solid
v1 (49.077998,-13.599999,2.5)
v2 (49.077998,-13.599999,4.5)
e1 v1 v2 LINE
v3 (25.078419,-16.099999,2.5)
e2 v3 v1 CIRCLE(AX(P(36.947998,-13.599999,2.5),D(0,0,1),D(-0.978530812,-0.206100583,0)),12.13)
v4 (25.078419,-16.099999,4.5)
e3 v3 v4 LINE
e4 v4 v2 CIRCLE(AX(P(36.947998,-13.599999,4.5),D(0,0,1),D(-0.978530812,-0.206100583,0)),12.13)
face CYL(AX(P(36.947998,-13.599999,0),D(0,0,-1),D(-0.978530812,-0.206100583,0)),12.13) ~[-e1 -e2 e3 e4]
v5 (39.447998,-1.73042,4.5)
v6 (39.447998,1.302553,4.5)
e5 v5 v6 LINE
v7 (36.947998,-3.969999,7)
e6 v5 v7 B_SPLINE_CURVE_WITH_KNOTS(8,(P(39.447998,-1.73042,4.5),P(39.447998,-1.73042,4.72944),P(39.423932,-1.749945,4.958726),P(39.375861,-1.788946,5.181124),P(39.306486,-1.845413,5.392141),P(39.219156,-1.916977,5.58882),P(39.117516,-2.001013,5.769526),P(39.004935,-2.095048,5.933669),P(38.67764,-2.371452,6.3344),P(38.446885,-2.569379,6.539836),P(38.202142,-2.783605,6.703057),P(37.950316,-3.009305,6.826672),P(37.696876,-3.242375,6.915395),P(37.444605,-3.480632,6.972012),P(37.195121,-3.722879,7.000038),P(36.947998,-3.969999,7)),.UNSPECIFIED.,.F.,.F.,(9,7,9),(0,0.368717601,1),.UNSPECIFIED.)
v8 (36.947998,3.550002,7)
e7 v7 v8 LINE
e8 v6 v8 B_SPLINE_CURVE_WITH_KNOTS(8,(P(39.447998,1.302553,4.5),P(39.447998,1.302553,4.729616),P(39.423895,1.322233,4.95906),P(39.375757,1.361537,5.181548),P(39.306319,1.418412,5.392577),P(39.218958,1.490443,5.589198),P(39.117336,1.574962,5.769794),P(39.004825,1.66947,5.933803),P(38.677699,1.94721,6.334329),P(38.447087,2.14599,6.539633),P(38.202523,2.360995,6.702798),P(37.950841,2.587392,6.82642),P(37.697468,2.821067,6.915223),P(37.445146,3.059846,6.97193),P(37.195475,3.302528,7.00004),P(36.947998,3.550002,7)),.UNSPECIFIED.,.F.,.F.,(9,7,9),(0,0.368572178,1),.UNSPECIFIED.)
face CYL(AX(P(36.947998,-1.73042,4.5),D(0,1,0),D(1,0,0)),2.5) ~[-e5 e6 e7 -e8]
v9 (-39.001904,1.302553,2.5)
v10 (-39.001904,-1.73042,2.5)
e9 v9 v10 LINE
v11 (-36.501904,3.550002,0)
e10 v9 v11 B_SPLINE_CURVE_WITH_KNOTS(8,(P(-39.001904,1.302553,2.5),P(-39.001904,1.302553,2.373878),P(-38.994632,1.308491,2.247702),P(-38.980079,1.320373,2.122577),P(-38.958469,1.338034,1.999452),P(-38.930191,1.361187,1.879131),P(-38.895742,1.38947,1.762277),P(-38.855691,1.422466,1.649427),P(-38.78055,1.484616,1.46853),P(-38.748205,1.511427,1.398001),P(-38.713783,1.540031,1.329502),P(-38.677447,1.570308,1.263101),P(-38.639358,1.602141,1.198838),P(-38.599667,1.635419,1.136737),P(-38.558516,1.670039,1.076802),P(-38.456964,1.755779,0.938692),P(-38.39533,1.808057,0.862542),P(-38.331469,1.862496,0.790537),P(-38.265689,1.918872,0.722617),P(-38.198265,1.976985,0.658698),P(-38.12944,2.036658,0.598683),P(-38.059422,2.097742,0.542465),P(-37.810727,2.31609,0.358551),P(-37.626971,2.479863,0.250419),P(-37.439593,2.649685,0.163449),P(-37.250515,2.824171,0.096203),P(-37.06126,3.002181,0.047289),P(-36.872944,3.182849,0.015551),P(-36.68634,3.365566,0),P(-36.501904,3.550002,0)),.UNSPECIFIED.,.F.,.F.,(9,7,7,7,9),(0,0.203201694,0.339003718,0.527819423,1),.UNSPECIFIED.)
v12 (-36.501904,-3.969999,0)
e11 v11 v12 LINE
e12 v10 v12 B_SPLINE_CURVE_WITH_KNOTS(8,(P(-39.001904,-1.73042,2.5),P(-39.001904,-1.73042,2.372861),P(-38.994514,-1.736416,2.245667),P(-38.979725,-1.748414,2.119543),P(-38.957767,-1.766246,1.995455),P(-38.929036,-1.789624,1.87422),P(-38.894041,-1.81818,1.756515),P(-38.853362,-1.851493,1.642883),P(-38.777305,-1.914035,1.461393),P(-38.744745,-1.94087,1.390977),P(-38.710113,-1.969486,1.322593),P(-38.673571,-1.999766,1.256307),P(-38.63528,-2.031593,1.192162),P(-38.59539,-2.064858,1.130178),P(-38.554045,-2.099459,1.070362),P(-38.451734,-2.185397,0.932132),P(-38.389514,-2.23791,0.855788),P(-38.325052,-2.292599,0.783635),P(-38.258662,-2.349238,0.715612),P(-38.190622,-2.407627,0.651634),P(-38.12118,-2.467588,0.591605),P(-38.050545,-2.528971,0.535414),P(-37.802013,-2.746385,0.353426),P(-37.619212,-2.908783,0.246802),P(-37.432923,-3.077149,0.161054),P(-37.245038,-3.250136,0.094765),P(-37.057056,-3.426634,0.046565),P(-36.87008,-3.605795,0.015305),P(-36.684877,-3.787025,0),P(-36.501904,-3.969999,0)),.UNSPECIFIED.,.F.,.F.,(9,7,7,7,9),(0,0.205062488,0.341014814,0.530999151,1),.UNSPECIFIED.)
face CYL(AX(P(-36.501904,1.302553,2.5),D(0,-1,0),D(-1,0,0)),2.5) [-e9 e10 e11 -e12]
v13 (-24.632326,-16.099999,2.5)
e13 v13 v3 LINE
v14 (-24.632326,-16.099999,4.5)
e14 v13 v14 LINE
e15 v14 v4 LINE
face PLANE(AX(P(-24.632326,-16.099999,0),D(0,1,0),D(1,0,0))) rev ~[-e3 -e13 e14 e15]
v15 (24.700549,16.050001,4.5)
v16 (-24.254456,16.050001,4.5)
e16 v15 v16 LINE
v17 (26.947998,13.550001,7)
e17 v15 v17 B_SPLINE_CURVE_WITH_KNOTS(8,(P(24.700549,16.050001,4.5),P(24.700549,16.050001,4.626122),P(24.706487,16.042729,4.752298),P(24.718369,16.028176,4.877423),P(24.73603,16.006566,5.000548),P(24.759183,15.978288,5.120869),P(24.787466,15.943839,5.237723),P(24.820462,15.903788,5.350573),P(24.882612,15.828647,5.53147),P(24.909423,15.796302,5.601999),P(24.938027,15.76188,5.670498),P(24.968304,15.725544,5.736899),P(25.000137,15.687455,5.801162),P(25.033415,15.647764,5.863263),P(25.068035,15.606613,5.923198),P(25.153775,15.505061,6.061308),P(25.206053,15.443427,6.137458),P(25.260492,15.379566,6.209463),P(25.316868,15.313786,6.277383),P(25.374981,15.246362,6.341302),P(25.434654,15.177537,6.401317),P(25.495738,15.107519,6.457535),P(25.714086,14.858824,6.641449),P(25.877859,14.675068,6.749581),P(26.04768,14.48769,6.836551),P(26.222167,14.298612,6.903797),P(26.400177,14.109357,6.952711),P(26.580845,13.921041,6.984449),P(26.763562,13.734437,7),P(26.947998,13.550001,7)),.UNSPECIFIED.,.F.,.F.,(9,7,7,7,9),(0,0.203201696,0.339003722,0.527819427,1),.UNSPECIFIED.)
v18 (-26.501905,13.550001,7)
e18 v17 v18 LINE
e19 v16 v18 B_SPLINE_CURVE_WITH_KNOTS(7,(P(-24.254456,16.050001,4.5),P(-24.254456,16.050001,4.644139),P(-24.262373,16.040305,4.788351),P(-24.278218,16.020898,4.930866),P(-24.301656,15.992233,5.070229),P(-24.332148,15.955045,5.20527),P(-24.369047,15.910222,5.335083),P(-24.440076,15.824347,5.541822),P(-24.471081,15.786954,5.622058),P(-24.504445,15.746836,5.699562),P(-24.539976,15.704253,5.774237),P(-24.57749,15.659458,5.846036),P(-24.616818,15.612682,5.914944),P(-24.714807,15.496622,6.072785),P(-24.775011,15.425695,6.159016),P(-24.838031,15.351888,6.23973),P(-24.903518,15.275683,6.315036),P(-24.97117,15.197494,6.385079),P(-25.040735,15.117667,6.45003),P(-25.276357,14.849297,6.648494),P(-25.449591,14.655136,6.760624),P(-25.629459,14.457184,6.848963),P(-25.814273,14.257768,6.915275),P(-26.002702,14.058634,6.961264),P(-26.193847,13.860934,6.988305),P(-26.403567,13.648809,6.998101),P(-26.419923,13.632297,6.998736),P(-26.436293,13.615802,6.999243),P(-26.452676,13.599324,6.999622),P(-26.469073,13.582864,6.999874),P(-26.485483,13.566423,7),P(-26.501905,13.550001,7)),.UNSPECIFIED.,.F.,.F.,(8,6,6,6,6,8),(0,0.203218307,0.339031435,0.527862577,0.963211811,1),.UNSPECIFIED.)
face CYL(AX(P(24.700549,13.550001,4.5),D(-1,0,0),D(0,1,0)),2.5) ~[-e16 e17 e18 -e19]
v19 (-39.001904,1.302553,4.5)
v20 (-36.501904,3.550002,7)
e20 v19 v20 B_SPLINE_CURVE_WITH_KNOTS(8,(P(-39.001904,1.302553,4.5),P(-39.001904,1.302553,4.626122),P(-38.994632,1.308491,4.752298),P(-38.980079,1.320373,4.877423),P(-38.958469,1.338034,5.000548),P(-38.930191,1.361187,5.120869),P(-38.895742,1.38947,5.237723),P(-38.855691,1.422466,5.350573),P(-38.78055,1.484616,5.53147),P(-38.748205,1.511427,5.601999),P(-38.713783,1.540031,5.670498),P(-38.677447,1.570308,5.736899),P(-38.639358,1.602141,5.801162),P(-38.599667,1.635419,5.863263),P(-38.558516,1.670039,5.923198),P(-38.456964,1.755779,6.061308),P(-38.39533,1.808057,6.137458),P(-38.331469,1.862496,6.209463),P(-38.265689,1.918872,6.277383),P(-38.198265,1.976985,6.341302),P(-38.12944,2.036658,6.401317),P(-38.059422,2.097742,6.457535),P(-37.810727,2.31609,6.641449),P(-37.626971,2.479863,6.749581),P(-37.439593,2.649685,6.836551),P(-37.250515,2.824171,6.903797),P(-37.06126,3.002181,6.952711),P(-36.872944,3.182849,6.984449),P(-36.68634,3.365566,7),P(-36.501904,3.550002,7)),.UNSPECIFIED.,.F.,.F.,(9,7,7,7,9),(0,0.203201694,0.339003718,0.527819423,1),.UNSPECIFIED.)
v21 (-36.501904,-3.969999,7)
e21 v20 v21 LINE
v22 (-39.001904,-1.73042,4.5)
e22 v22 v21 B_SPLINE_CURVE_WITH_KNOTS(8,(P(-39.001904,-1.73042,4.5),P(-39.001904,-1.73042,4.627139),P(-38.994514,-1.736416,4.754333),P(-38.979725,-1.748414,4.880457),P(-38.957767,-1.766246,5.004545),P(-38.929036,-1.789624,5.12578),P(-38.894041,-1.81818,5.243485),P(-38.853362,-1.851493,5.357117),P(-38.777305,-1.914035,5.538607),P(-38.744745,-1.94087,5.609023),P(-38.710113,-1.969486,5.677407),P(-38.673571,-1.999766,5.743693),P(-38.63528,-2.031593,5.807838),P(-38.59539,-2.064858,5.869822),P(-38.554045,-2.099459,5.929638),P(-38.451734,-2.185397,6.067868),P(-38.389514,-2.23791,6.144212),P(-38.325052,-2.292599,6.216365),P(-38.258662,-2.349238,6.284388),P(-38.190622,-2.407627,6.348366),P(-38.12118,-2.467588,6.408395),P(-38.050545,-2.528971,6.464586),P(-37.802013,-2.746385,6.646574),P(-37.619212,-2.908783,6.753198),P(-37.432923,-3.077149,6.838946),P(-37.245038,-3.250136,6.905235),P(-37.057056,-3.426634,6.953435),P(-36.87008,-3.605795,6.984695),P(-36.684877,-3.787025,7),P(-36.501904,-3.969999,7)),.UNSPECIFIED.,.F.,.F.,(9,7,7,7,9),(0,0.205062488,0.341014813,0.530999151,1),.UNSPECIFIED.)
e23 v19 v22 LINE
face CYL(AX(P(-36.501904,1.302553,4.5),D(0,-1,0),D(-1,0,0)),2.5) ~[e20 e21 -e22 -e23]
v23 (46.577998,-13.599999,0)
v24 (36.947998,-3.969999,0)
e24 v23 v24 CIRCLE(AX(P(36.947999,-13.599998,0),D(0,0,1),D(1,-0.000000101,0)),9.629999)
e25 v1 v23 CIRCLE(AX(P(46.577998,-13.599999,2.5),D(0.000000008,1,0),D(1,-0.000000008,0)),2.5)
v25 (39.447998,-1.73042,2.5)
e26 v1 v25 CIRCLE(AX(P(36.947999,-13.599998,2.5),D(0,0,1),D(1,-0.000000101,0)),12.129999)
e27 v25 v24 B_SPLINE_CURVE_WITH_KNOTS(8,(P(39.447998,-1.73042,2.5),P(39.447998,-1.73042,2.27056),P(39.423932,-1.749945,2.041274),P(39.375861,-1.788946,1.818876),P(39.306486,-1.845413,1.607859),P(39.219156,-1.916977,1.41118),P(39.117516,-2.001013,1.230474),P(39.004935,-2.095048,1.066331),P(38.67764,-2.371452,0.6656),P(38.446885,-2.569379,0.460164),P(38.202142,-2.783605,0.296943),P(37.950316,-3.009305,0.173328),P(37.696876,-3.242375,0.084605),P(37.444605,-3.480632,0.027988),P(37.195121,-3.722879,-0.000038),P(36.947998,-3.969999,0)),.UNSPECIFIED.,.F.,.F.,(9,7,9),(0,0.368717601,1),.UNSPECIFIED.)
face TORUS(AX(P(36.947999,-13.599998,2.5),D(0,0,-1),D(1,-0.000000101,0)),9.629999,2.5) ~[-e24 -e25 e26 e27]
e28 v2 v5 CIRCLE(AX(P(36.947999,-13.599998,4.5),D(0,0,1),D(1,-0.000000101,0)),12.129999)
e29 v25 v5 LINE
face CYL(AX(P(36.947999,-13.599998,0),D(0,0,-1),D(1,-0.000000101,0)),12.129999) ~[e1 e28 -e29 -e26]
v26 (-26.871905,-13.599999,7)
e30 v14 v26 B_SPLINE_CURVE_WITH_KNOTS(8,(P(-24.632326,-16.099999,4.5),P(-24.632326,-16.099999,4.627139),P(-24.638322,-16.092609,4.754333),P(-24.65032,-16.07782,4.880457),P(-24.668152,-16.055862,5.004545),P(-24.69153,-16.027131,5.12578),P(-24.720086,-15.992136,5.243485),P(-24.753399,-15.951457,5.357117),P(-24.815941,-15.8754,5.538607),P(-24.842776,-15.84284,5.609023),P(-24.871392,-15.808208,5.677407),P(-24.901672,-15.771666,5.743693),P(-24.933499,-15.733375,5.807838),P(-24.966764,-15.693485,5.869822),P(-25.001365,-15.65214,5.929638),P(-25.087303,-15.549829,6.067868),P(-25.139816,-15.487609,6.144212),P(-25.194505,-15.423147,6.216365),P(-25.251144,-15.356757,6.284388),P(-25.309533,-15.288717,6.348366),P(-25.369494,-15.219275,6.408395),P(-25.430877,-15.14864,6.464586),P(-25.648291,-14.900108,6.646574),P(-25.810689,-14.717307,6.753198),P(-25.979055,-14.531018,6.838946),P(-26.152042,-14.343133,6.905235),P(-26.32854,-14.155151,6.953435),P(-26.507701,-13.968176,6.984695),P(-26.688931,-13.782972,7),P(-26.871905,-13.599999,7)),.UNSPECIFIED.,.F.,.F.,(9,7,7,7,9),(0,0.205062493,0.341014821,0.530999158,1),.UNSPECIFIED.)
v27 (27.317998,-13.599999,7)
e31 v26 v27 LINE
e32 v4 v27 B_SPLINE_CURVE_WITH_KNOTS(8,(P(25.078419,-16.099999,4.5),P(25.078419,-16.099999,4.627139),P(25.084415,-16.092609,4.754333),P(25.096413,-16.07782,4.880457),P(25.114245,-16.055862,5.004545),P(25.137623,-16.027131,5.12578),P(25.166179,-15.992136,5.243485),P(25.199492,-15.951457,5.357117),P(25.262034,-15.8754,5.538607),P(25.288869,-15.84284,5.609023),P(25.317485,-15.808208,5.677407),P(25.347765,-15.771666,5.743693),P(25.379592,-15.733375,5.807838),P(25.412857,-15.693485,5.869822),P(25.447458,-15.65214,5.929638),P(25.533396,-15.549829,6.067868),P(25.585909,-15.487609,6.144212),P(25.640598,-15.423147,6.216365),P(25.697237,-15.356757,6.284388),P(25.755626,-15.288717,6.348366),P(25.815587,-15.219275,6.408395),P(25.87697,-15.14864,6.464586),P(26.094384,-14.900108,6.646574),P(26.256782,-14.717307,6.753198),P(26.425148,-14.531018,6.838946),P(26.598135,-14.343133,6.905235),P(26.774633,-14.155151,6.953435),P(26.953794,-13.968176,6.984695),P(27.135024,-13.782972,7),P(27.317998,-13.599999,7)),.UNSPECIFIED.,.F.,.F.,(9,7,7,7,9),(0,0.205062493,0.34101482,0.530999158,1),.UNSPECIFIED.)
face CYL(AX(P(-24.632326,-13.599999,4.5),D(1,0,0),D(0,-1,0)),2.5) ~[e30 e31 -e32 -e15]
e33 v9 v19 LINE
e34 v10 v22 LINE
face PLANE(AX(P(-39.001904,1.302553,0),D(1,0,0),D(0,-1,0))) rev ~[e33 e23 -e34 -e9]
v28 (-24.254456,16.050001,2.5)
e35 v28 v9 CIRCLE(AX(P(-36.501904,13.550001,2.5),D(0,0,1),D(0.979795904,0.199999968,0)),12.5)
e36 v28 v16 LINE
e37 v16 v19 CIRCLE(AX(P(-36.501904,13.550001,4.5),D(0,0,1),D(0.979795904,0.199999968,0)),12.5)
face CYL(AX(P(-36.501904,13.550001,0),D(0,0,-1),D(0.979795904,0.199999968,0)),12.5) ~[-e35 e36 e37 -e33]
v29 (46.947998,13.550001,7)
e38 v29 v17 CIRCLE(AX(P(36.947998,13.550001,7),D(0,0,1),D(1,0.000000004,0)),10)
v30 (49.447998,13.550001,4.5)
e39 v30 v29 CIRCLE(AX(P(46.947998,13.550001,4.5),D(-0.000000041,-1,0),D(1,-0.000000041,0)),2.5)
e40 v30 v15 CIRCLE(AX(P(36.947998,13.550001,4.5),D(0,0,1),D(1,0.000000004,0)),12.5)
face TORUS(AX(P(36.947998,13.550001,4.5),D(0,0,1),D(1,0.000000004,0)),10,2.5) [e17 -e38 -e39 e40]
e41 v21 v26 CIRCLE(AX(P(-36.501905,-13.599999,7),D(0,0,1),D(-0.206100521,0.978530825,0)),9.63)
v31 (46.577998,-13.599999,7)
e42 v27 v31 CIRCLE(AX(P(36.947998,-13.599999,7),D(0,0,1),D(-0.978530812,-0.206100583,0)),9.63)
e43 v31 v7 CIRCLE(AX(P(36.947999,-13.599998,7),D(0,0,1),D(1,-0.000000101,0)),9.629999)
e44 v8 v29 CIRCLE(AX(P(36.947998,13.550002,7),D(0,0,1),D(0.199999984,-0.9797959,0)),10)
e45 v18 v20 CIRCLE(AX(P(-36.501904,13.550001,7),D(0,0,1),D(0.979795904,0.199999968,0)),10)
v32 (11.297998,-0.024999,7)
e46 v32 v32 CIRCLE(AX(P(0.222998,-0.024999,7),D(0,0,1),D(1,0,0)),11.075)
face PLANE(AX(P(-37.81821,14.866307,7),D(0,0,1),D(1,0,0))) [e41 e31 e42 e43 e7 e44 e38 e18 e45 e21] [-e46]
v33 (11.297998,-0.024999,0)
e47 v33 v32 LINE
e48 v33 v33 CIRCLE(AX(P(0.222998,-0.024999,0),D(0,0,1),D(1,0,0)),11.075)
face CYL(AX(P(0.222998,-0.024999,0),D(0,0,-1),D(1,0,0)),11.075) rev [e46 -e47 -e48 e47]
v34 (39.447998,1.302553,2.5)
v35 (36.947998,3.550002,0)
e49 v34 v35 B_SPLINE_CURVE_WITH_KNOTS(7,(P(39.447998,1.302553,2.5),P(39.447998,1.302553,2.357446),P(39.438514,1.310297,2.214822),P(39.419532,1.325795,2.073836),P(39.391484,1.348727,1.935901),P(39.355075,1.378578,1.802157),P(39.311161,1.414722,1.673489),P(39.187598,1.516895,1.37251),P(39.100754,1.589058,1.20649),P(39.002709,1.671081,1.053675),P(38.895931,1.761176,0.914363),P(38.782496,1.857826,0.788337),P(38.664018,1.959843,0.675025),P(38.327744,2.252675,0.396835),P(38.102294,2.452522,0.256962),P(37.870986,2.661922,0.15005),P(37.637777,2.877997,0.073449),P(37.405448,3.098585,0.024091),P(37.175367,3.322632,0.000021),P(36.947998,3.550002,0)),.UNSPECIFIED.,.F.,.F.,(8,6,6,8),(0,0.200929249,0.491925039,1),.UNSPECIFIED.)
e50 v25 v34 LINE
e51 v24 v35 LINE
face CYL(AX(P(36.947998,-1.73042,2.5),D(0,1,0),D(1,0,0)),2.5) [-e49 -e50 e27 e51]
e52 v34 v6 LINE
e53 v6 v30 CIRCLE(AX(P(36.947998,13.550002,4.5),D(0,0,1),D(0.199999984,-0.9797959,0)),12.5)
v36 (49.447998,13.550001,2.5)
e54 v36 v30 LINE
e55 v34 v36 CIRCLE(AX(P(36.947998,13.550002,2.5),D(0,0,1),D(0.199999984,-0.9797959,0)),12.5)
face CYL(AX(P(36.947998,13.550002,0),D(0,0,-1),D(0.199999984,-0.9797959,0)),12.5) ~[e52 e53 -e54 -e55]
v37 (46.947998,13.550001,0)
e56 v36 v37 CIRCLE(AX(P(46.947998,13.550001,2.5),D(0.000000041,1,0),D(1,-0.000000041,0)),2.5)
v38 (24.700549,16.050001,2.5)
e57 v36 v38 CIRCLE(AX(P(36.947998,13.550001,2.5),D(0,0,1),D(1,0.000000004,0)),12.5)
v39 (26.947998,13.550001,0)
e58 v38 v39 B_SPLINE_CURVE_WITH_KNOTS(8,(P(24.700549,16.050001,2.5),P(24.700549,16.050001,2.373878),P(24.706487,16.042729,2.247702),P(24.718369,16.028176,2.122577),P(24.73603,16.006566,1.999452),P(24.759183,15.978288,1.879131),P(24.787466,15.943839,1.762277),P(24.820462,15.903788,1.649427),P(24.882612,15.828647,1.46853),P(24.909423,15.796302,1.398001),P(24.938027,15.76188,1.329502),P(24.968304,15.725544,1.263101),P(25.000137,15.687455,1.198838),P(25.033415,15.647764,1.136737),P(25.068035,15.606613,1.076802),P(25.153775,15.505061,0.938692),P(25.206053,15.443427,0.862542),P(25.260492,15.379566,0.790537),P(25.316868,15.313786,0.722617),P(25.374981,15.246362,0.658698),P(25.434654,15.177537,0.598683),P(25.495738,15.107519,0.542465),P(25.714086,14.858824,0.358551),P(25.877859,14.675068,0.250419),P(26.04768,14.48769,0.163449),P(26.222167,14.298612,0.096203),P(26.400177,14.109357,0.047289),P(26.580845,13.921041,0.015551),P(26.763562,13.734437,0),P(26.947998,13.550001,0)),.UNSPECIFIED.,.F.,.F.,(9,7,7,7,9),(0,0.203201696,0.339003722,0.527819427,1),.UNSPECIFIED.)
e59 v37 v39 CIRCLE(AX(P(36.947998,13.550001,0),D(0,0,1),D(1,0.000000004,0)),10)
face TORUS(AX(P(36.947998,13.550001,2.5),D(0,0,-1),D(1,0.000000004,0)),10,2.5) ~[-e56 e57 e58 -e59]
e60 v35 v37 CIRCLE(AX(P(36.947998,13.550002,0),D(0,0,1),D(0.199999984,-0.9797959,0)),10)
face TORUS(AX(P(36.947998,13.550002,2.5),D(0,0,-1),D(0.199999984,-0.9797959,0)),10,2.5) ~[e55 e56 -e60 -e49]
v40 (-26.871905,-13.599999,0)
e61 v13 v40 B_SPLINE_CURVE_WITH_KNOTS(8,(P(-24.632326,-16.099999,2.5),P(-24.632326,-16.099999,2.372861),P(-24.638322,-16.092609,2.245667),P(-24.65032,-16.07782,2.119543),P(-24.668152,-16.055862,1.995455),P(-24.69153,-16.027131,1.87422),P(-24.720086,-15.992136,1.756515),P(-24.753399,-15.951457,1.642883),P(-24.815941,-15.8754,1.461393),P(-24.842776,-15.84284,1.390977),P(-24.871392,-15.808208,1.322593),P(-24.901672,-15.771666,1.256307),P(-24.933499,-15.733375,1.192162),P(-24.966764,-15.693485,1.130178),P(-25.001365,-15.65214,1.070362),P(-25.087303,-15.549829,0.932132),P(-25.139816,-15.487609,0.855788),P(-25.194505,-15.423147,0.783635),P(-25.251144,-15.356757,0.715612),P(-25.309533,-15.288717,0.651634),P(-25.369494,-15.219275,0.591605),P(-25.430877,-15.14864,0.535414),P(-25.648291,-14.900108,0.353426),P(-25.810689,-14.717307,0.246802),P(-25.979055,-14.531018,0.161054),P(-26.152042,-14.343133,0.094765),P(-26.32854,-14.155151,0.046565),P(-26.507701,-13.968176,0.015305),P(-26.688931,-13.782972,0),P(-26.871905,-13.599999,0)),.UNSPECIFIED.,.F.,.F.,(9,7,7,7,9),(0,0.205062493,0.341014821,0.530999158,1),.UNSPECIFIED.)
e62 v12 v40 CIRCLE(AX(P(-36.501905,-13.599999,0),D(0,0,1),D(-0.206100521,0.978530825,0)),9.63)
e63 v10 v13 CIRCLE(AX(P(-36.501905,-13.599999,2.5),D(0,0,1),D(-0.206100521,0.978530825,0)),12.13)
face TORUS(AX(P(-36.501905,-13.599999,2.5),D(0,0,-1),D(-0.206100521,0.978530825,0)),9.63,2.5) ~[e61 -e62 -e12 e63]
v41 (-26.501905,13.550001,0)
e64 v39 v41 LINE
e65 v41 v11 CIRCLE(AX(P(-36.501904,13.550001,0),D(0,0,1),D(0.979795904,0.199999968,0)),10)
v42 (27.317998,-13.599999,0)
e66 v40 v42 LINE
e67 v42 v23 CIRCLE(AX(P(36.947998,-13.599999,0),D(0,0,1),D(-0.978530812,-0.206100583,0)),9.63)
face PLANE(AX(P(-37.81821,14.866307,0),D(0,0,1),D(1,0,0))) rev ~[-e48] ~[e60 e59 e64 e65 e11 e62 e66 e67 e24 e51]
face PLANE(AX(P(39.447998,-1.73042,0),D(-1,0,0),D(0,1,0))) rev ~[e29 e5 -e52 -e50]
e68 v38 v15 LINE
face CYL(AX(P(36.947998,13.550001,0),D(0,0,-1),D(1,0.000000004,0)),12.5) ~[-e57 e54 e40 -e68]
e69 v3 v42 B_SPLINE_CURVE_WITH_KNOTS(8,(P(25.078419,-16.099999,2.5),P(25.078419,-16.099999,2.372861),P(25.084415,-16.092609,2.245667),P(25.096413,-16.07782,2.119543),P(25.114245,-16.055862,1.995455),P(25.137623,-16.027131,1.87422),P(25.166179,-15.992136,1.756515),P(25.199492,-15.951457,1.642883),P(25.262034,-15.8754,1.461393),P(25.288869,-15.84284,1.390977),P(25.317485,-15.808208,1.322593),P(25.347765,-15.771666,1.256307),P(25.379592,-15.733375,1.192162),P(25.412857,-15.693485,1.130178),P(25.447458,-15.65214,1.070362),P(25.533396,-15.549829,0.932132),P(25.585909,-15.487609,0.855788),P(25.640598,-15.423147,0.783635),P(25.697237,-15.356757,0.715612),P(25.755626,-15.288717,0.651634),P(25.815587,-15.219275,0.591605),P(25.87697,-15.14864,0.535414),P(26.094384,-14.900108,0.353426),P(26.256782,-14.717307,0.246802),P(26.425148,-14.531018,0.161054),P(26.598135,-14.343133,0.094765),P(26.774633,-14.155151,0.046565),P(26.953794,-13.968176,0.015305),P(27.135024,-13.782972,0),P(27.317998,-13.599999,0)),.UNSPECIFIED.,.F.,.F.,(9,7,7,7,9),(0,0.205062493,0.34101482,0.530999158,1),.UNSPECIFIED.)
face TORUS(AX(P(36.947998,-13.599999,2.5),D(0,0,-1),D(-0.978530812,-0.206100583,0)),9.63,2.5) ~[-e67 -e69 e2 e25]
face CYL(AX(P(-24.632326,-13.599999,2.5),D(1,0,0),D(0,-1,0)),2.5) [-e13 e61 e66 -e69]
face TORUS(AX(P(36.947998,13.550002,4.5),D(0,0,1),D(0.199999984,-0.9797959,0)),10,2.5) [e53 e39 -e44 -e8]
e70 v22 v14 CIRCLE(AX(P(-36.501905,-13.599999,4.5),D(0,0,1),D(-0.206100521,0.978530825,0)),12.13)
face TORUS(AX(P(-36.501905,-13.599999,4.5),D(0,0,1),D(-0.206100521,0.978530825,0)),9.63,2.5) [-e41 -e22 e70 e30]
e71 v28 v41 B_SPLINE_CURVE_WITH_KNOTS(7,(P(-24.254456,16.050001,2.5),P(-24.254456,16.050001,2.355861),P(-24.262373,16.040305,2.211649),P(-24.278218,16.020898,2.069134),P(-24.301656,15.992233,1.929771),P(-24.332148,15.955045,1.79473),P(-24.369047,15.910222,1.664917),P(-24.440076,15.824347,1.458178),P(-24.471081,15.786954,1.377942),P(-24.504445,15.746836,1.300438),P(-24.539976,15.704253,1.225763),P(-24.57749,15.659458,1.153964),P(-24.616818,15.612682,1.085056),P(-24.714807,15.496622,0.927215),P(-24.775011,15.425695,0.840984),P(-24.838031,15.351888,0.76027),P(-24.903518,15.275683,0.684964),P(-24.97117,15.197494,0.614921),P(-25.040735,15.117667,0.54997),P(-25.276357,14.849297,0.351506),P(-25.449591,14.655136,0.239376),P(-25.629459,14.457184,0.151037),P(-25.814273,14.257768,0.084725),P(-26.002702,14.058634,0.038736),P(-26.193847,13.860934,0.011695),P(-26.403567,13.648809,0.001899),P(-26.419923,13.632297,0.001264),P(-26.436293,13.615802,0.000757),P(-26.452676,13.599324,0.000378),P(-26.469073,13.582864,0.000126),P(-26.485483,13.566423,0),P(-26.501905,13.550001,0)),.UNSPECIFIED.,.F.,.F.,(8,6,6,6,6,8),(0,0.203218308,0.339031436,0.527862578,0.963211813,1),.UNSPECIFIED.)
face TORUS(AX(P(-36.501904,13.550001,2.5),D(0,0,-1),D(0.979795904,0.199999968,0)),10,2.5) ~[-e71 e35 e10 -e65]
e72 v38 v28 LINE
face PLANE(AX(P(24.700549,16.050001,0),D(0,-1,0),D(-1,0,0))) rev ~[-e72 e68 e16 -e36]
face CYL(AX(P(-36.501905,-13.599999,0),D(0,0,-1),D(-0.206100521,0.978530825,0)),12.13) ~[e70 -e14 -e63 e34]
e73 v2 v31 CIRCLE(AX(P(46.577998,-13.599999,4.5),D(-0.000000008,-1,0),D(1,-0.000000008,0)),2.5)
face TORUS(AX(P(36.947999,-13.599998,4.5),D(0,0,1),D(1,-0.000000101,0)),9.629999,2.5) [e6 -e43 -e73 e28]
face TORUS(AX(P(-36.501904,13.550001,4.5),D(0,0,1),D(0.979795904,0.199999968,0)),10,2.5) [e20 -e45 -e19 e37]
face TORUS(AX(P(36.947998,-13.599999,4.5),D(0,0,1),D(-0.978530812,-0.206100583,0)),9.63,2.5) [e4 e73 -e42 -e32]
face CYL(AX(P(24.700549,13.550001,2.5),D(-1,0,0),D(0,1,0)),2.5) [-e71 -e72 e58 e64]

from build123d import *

# Parameters (mm, degrees)
F0_R     = 11.075
F1_DEPTH = 7
F2_R     = 2.5


with BuildPart() as f1:
    # F0 (on Top) → F1 (new body)
    with BuildSketch(Plane.XY):
        with BuildLine():
            ThreePointArc((-24.254456, 16.050001), (-45.340739, 22.388836), (-39.001904, 1.302553))
            Line((-39.001904, 1.302553), (-39.001904, 16.050001))
            Line((-39.001904, 16.050001), (-24.254456, 16.050001))
        make_face()
        with BuildLine():
            Line((-39.001904, 16.050001), (-39.001904, 1.302553))
            ThreePointArc((-39.001904, 1.302553), (-28.59621, 3.867543), (-24.001904, 13.550001))
            ThreePointArc((-24.001904, 13.550001), (-24.065203, 14.806363), (-24.254456, 16.050001))
            Line((-24.254456, 16.050001), (-39.001904, 16.050001))
        make_face()
        with BuildLine():
            Line((-24.632326, -16.099999), (25.078419, -16.099999))
            ThreePointArc((25.078419, -16.099999), (28.370793, -5.022793), (39.447998, -1.73042))
            Line((39.447998, -1.73042), (39.447998, 1.302553))
            ThreePointArc((39.447998, 1.302553), (28.109163, 4.711167), (24.700549, 16.050001))
            Line((24.700549, 16.050001), (-24.254456, 16.050001))
            ThreePointArc((-24.254456, 16.050001), (-24.065203, 14.806363), (-24.001904, 13.550001))
            ThreePointArc((-24.001904, 13.550001), (-28.59621, 3.867543), (-39.001904, 1.302553))
            Line((-39.001904, 1.302553), (-39.001904, -1.73042))
            ThreePointArc((-39.001904, -1.73042), (-28.859526, -4.180288), (-24.371904, -13.599999))
            ThreePointArc((-24.371904, -13.599999), (-24.437185, -14.856762), (-24.632326, -16.099999))
        make_face()
        with Locations((0.222998, -0.024999)):
            Circle(F0_R, mode=Mode.SUBTRACT)
        with BuildLine():
            ThreePointArc((24.700549, 16.050001), (28.109163, 4.711167), (39.447998, 1.302553))
            Line((39.447998, 1.302553), (39.447998, 16.050001))
            Line((39.447998, 16.050001), (24.700549, 16.050001))
        make_face()
        with BuildLine():
            Line((25.078419, -16.099999), (39.447998, -16.099999))
            Line((39.447998, -16.099999), (39.447998, -1.73042))
            ThreePointArc((39.447998, -1.73042), (28.370793, -5.022793), (25.078419, -16.099999))
        make_face()
        with BuildLine():
            Line((39.447998, 16.050001), (39.447998, 1.302553))
            ThreePointArc((39.447998, 1.302553), (46.630456, 5.644307), (49.447998, 13.550001))
            ThreePointArc((49.447998, 13.550001), (38.20436, 25.986703), (24.700549, 16.050001))
            Line((24.700549, 16.050001), (39.447998, 16.050001))
        make_face()
        with BuildLine():
            Line((39.447998, -1.73042), (39.447998, -16.099999))
            Line((39.447998, -16.099999), (25.078419, -16.099999))
            ThreePointArc((25.078419, -16.099999), (38.204762, -25.664718), (49.077998, -13.599999))
            ThreePointArc((49.077998, -13.599999), (46.367709, -5.95762), (39.447998, -1.73042))
        make_face()
        with BuildLine():
            ThreePointArc((-39.001904, -1.73042), (-45.07911, -22.177204), (-24.632326, -16.099999))
            Line((-24.632326, -16.099999), (-39.001904, -16.099999))
            Line((-39.001904, -16.099999), (-39.001904, -1.73042))
        make_face()
        with BuildLine():
            Line((-39.001904, -16.099999), (-24.632326, -16.099999))
            ThreePointArc((-24.632326, -16.099999), (-24.437185, -14.856762), (-24.371904, -13.599999))
            ThreePointArc((-24.371904, -13.599999), (-28.859526, -4.180288), (-39.001904, -1.73042))
            Line((-39.001904, -1.73042), (-39.001904, -16.099999))
        make_face()
    extrude(amount=F1_DEPTH)

    # F2
    f2_edges = [f1.edges().sort_by_distance(p)[0] for p in [
        (-45.340739, 22.388836, 7),
        (0.223047, 16.050001, 7),
        (45.786833, 22.388836, 7),
        (39.447998, -0.213934, 7),
        (45.525203, -22.177204, 7),
        (0.223047, -16.099999, 7),
        (-45.07911, -22.177204, 7),
        (-39.001904, -0.213934, 7),
        (-45.07911, -22.177204, 0),
        (0.223047, -16.099999, 0),
        (45.525203, -22.177204, 0),
        (39.447998, -0.213934, 0),
        (45.786833, 22.388836, 0),
        (0.223047, 16.050001, 0),
        (-45.340739, 22.388836, 0),
        (-39.001904, -0.213934, 0),
    ]]
    fillet(f2_edges, radius=F2_R)


solid = f1.part
